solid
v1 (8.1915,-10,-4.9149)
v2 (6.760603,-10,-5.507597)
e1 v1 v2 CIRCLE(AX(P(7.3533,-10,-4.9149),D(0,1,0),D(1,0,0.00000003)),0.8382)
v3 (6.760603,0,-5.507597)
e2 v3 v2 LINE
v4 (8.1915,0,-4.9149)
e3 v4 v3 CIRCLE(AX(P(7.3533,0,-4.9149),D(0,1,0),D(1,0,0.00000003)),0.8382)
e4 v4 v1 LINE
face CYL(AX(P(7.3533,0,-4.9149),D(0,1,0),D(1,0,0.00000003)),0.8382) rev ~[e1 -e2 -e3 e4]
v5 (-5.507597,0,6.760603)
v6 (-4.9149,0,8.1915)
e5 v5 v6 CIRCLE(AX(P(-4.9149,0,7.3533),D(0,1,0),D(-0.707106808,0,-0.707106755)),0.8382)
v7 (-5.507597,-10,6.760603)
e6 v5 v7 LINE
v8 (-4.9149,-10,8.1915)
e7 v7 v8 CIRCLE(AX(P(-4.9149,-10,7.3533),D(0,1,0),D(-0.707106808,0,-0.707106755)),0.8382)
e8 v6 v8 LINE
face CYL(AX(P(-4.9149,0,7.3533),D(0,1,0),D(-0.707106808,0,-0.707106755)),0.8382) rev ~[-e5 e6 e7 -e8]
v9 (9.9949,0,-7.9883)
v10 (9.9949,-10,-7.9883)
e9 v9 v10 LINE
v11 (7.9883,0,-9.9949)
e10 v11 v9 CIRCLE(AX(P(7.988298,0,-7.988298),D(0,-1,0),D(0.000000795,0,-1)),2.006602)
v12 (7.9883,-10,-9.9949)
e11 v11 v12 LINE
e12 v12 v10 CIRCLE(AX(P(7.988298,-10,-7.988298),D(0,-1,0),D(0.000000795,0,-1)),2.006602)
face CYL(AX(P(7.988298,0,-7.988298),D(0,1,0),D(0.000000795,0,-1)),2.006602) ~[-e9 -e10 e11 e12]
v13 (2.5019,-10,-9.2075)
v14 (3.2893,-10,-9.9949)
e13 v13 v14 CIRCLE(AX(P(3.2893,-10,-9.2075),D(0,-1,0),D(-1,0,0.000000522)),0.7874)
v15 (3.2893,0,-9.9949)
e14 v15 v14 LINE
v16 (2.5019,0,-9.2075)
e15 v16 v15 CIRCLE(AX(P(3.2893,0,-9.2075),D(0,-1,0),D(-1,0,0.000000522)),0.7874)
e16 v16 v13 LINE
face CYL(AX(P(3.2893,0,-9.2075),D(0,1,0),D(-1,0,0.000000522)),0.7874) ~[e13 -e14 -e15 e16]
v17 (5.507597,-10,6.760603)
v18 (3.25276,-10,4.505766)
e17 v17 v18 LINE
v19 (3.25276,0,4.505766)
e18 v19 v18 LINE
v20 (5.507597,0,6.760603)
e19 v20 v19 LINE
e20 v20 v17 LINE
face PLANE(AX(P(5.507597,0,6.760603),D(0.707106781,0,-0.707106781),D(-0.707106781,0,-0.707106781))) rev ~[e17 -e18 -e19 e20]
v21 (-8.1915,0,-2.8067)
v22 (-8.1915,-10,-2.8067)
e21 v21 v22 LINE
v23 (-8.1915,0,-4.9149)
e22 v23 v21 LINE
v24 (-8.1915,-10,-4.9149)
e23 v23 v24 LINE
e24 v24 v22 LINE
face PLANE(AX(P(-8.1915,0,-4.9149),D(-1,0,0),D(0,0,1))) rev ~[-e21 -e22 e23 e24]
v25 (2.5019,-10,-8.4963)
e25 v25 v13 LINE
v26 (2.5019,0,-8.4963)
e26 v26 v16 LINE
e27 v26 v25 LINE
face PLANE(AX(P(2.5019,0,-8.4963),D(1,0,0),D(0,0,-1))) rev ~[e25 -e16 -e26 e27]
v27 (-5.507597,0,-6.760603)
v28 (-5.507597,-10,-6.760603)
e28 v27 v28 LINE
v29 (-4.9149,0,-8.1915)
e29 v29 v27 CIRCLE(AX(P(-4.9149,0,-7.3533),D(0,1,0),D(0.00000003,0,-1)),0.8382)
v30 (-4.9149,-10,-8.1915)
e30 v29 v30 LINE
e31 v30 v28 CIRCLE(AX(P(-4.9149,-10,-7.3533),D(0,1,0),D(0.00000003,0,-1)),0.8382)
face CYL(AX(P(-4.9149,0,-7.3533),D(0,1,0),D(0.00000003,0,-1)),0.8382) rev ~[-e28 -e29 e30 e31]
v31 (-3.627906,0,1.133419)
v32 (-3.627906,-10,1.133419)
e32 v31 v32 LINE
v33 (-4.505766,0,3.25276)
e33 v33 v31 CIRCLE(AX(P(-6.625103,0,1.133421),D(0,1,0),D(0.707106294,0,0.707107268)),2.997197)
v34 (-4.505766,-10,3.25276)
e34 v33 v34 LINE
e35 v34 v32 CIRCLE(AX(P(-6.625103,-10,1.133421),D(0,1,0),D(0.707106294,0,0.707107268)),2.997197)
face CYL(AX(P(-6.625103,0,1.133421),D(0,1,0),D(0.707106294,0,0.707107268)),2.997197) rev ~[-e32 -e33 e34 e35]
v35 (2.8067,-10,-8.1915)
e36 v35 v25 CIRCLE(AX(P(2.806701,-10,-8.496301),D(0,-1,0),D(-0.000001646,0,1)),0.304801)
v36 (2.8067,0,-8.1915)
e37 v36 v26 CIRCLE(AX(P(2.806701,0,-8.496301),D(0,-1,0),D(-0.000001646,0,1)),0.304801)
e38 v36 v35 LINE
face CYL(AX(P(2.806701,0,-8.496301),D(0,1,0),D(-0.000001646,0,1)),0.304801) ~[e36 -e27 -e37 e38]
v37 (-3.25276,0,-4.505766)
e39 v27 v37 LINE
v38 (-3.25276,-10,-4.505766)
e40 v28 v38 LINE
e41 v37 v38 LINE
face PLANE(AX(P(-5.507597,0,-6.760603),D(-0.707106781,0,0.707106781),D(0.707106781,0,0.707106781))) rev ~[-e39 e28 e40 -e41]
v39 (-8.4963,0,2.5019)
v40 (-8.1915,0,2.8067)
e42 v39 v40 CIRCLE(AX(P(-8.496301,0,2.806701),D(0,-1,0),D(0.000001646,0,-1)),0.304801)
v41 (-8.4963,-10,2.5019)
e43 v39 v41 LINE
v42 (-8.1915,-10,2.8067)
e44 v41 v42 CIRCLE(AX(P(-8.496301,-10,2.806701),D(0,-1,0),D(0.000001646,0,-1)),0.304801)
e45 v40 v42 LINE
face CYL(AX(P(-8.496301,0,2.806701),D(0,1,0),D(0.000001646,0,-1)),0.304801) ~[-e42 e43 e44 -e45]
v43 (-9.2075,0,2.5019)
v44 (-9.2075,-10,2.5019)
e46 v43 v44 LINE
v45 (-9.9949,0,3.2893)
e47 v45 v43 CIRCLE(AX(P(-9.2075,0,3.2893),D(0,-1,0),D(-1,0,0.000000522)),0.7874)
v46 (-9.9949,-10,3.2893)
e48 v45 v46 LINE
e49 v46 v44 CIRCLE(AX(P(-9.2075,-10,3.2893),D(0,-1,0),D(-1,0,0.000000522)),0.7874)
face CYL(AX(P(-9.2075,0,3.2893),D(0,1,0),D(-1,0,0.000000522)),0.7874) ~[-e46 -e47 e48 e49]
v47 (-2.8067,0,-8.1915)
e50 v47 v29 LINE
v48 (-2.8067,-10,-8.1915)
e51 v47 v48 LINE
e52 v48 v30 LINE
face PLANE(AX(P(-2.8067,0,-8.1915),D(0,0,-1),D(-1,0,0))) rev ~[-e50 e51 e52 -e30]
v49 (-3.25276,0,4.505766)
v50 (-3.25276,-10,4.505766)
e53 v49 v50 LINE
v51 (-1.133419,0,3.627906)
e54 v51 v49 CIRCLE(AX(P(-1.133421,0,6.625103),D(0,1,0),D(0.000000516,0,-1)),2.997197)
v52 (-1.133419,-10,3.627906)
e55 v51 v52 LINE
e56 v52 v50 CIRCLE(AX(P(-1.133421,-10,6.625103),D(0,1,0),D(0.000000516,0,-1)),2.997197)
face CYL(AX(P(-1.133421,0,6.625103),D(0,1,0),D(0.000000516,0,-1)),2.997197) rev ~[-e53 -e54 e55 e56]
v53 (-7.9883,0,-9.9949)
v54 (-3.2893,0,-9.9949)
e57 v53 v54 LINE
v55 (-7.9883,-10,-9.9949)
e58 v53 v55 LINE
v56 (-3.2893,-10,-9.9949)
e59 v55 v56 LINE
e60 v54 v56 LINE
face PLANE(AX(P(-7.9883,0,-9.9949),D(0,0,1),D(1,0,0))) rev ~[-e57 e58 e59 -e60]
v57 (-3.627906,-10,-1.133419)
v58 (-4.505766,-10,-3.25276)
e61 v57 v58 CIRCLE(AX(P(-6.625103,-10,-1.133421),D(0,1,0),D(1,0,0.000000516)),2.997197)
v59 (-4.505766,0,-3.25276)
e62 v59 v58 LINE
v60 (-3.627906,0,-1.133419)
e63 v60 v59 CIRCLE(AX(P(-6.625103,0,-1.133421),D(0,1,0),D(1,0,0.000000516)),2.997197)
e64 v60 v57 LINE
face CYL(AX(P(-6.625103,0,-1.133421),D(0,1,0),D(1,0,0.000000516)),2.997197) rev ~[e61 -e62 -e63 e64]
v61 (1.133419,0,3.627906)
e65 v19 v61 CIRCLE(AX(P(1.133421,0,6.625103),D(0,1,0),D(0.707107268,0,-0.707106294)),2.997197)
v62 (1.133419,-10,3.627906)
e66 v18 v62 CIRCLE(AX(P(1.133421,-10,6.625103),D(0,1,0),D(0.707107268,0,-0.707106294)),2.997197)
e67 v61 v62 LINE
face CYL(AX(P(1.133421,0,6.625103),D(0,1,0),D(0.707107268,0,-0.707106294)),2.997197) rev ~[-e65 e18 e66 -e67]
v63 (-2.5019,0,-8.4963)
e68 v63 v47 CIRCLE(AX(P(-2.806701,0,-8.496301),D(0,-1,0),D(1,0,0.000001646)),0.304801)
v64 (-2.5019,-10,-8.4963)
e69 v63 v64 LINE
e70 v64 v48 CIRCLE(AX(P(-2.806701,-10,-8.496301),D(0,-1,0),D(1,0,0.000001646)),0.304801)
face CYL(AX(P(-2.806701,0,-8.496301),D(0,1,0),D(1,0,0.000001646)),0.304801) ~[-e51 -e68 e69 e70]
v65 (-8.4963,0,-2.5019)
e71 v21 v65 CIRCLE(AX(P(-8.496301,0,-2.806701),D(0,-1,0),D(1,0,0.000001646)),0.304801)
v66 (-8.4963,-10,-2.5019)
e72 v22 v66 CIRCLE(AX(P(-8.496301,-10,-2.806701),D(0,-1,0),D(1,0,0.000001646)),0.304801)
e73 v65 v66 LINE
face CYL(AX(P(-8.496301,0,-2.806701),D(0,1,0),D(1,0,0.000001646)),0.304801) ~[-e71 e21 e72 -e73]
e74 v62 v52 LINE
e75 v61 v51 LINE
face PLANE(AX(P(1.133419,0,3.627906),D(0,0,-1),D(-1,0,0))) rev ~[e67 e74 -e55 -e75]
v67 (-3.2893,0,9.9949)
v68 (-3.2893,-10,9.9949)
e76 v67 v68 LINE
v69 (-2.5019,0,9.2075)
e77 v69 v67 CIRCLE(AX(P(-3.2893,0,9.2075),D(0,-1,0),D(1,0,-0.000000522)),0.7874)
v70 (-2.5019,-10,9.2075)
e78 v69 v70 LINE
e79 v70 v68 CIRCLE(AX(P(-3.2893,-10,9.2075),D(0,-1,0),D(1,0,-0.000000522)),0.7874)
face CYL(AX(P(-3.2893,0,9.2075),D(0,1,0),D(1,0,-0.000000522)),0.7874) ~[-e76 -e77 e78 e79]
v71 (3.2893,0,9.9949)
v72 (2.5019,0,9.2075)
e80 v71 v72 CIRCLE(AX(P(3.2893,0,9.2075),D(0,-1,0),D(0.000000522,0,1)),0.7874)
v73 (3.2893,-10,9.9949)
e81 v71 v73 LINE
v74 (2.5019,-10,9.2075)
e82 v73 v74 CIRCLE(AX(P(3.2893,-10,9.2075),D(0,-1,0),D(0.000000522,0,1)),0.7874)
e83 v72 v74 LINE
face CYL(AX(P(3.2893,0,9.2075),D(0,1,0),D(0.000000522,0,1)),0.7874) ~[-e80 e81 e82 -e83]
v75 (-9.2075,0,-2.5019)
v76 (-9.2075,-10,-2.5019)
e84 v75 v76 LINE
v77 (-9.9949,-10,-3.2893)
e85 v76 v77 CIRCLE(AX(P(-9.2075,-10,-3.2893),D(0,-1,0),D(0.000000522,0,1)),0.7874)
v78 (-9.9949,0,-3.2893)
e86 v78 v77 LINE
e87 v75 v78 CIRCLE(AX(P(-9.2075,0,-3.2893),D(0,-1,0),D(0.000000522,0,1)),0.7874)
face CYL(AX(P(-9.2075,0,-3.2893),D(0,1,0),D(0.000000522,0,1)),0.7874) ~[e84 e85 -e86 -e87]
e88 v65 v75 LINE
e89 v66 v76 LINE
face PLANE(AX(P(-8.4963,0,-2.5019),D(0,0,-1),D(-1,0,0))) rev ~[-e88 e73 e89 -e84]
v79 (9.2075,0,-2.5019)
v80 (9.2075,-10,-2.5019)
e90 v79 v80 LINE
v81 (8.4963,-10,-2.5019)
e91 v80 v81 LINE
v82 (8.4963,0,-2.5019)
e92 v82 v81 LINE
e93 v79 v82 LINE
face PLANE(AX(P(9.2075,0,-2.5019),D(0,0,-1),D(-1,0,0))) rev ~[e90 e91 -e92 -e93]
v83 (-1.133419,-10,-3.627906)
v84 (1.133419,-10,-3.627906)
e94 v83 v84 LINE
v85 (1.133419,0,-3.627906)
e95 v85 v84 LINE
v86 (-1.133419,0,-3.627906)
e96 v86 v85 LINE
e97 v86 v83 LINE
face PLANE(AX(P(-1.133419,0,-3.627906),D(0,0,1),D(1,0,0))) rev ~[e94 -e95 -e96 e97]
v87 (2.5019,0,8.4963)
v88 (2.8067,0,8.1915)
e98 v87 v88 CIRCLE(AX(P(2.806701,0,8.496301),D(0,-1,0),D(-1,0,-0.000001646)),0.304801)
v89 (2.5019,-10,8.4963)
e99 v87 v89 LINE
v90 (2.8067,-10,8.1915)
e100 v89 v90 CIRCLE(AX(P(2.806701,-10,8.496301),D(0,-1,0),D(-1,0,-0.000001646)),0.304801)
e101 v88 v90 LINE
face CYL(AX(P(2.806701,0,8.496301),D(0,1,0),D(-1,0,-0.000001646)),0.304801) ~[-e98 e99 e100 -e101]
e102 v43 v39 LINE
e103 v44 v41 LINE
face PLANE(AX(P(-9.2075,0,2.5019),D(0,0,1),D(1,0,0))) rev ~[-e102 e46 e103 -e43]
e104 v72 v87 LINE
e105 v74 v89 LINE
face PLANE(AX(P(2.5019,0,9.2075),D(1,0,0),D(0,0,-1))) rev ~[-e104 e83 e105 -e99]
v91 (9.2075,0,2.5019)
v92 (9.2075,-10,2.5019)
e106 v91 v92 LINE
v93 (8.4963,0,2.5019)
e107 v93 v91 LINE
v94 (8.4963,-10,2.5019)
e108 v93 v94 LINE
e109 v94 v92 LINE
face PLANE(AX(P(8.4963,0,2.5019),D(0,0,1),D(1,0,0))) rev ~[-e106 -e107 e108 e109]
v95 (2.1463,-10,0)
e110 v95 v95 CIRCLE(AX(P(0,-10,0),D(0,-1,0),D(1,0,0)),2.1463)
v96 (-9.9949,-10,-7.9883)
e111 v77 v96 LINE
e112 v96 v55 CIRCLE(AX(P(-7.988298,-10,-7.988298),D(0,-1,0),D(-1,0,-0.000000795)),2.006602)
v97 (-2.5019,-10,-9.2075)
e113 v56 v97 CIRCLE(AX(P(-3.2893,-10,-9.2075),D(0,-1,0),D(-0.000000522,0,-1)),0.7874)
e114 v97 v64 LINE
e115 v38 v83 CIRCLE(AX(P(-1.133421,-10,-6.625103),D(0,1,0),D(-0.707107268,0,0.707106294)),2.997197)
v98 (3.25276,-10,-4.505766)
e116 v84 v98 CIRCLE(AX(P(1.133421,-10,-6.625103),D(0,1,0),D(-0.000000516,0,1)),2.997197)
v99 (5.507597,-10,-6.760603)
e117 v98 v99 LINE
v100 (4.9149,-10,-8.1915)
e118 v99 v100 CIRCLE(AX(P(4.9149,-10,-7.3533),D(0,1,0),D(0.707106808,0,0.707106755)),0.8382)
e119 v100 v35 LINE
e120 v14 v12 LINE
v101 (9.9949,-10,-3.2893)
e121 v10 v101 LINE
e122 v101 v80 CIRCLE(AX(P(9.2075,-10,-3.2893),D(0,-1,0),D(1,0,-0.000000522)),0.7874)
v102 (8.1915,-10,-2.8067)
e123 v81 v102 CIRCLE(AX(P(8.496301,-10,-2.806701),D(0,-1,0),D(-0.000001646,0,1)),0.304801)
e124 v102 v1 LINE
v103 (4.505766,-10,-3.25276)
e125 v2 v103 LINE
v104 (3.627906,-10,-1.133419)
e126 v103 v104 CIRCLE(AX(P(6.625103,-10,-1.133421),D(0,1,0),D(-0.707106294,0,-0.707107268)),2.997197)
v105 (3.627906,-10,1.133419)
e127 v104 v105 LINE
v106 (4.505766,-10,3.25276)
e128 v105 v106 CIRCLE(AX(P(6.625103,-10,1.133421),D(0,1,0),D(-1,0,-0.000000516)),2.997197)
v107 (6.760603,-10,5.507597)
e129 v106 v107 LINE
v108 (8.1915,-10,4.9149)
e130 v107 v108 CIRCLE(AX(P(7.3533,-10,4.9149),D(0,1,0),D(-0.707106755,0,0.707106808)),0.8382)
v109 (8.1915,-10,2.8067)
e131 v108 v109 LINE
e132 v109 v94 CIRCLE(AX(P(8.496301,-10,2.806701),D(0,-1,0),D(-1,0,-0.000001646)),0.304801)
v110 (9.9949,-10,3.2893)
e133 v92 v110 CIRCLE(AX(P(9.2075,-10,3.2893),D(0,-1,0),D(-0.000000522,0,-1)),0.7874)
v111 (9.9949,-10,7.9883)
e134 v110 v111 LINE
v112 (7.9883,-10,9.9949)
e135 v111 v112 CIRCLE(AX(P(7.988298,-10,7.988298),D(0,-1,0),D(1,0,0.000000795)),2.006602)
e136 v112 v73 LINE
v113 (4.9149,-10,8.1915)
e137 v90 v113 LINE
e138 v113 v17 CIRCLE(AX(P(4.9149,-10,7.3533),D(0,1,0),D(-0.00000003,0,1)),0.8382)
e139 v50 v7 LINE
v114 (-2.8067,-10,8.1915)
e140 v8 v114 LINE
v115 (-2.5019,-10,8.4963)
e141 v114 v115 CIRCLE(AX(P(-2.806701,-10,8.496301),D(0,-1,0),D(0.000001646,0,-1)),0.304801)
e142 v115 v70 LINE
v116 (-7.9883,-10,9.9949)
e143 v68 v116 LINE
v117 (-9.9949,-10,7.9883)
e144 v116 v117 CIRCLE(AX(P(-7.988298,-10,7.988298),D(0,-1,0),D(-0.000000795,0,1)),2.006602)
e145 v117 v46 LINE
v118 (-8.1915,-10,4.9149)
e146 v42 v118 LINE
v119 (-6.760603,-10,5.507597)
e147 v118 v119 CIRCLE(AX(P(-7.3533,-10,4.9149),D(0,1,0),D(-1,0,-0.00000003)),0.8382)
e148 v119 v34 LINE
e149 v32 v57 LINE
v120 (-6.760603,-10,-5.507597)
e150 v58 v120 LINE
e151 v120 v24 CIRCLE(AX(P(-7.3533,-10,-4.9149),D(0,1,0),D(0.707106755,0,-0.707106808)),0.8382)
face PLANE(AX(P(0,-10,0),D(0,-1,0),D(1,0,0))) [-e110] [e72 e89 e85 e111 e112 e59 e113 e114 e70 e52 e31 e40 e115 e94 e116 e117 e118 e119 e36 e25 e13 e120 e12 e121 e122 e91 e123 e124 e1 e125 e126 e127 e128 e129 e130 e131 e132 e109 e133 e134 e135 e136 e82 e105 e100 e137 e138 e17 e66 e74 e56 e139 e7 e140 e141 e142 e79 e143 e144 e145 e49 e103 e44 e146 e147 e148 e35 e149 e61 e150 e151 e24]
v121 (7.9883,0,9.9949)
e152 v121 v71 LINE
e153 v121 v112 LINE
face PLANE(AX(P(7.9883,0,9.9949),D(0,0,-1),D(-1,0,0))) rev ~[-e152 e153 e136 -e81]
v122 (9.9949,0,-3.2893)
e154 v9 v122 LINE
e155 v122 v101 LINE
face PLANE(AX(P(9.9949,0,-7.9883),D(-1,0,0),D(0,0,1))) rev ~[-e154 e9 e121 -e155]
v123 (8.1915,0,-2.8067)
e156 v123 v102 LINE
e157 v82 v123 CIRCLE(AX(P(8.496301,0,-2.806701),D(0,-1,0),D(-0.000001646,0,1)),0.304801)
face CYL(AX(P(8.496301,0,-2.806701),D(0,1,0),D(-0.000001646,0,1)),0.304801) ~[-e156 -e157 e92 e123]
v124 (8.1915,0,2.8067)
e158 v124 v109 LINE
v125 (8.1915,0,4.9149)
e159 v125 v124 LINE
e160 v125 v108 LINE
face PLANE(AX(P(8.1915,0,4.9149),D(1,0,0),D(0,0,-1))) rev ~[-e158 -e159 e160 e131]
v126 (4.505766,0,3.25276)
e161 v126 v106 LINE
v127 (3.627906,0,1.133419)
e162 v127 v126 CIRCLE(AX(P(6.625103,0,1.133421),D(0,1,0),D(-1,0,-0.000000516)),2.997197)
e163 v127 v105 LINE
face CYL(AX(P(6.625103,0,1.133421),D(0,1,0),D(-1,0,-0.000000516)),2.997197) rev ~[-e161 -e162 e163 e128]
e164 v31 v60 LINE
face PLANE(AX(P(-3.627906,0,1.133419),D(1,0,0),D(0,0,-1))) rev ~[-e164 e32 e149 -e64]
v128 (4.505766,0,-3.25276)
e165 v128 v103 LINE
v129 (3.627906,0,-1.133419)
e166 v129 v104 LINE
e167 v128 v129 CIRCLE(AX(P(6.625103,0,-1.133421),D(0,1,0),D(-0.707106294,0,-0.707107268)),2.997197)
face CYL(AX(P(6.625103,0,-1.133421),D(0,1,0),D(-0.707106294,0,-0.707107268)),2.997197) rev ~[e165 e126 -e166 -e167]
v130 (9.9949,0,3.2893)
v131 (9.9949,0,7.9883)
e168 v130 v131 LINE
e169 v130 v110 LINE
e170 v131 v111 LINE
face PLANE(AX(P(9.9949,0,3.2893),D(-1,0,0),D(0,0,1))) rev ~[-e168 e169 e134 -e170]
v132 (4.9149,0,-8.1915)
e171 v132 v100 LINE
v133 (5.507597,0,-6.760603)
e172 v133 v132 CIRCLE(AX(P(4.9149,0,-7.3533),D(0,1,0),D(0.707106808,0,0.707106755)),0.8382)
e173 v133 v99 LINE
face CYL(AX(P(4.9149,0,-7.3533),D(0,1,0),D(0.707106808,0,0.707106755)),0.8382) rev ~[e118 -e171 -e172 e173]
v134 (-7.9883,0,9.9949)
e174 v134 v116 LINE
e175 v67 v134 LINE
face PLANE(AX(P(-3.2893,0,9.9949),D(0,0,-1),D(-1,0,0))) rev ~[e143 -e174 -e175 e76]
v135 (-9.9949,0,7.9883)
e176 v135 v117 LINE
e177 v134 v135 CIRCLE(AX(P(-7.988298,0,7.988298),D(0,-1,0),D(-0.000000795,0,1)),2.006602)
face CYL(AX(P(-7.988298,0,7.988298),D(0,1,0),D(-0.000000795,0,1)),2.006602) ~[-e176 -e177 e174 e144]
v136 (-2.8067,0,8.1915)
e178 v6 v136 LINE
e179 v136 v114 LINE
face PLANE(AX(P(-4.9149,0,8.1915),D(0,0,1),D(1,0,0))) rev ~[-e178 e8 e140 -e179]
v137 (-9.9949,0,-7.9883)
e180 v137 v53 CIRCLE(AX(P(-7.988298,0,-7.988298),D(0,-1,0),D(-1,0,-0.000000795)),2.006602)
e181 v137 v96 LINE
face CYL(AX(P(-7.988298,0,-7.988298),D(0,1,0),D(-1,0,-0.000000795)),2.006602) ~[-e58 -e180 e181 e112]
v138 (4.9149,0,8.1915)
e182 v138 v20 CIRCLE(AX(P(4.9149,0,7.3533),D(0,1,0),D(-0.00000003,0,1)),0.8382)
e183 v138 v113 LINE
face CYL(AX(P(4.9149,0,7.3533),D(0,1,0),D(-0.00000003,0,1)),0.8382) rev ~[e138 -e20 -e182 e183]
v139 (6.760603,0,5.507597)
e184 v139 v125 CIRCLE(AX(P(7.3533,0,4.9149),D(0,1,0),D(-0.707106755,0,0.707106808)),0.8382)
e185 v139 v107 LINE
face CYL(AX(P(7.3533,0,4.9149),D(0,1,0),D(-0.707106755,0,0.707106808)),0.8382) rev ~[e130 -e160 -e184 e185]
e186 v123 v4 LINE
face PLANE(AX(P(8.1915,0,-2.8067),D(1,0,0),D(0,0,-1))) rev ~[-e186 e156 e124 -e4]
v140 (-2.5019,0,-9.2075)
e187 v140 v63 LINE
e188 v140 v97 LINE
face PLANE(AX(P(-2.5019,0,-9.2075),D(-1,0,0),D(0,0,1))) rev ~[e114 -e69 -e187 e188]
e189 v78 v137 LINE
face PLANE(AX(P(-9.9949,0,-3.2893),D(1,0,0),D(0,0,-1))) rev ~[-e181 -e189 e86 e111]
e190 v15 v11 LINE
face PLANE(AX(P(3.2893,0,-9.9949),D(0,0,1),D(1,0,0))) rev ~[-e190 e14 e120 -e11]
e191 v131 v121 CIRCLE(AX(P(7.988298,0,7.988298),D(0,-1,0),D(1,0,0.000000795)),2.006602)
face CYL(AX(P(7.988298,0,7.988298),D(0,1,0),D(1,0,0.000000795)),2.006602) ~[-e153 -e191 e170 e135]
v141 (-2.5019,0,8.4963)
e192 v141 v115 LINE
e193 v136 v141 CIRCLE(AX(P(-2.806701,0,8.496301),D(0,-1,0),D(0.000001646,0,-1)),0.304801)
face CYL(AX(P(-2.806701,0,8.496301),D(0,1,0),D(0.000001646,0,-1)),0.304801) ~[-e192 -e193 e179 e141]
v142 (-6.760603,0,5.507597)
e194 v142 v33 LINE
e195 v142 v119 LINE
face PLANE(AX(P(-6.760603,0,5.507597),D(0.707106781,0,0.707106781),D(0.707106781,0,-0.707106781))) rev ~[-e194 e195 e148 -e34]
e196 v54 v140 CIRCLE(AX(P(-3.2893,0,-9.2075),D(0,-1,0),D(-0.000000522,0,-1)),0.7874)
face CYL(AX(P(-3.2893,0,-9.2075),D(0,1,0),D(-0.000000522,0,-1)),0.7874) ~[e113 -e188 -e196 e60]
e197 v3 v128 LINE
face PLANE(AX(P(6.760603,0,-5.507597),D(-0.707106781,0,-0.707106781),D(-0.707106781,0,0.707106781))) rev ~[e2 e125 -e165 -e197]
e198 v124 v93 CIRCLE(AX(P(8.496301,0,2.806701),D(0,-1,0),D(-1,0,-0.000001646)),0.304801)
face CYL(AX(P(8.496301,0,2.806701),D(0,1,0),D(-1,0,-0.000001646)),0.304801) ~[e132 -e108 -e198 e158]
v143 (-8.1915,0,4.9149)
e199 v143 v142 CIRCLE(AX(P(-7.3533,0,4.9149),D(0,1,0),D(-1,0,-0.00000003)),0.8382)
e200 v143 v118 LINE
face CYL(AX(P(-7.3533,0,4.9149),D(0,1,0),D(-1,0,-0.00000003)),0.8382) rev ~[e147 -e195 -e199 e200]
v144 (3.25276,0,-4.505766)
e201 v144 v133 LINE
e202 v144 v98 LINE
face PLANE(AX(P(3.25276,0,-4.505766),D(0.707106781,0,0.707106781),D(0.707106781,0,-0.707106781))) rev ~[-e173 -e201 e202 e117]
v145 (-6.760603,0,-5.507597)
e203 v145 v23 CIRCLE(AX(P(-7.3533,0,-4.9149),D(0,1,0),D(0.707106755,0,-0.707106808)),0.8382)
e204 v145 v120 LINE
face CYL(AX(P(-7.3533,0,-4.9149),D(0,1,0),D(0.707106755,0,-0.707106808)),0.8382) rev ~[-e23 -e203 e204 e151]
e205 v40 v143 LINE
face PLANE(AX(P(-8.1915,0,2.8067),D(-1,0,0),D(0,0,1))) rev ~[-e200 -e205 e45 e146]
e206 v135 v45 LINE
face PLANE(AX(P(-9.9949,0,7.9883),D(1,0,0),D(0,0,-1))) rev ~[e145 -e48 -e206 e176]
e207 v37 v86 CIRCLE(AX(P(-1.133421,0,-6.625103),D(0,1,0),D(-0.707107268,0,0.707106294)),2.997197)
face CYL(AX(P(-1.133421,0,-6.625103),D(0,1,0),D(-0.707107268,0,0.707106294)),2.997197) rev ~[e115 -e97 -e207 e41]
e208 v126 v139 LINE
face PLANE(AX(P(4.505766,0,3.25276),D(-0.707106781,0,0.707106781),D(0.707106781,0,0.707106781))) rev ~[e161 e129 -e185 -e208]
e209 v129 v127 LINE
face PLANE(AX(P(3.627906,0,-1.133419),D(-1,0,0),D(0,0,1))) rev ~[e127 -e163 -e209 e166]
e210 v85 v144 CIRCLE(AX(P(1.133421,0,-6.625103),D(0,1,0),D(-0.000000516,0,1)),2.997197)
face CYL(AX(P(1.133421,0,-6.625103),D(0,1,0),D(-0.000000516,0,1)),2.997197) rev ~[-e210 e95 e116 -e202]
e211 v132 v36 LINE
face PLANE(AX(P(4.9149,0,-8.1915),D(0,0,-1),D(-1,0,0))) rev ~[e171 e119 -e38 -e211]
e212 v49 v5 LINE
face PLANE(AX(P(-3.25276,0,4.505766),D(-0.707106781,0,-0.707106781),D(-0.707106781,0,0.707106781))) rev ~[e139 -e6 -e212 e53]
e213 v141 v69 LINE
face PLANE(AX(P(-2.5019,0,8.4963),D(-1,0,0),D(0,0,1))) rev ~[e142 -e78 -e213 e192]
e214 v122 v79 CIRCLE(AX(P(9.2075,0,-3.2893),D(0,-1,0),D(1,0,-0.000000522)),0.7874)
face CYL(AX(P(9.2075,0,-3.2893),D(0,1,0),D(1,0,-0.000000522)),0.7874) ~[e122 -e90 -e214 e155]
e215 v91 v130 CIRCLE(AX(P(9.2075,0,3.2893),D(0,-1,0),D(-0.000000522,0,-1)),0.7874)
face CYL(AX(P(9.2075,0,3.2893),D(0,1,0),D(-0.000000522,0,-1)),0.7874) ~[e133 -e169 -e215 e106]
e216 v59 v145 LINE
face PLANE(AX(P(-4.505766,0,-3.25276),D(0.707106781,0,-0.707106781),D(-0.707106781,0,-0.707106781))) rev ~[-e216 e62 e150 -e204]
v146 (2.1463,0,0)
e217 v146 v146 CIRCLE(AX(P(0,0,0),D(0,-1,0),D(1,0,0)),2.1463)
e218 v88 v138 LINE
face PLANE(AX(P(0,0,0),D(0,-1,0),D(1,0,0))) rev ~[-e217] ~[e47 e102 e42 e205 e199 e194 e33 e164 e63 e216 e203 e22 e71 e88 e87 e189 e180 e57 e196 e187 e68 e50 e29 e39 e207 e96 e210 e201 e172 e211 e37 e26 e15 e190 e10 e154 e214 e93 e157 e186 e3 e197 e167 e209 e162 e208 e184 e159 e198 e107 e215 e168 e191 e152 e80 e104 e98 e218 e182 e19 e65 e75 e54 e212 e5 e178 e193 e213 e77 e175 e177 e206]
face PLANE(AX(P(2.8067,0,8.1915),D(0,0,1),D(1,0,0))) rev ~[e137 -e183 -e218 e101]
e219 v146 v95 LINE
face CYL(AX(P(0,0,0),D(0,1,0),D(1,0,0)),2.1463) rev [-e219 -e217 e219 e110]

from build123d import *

# Parameters (mm, degrees)
F0_R     = 2.1463
F1_DEPTH = 10


with BuildPart() as f1:
    # F0 (on Front) → F1 (new body)
    with BuildSketch(Plane.XZ):
        with BuildLine():
            Line((-3.2893, 9.9949), (-7.9883, 9.9949))
            ThreePointArc((-7.9883, 9.9949), (-9.40718, 9.40718), (-9.9949, 7.9883))
            Line((-9.9949, 7.9883), (-9.9949, 3.2893))
            ThreePointArc((-9.9949, 3.2893), (-9.764276, 2.732524), (-9.2075, 2.5019))
            Line((-9.2075, 2.5019), (-8.4963, 2.5019))
            ThreePointArc((-8.4963, 2.5019), (-8.280774, 2.591174), (-8.1915, 2.8067))
            Line((-8.1915, 2.8067), (-8.1915, 4.9149))
            ThreePointArc((-8.1915, 4.9149), (-7.674065, 5.689296), (-6.760603, 5.507597))
            Line((-6.760603, 5.507597), (-4.505766, 3.25276))
            ThreePointArc((-4.505766, 3.25276), (-3.856054, 2.280398), (-3.627906, 1.133419))
            Line((-3.627906, 1.133419), (-3.627906, -1.133419))
            ThreePointArc((-3.627906, -1.133419), (-3.856054, -2.280398), (-4.505766, -3.25276))
            Line((-4.505766, -3.25276), (-6.760603, -5.507597))
            ThreePointArc((-6.760603, -5.507597), (-7.674065, -5.689296), (-8.1915, -4.9149))
            Line((-8.1915, -4.9149), (-8.1915, -2.8067))
            ThreePointArc((-8.1915, -2.8067), (-8.280774, -2.591174), (-8.4963, -2.5019))
            Line((-8.4963, -2.5019), (-9.2075, -2.5019))
            ThreePointArc((-9.2075, -2.5019), (-9.764276, -2.732524), (-9.9949, -3.2893))
            Line((-9.9949, -3.2893), (-9.9949, -7.9883))
            ThreePointArc((-9.9949, -7.9883), (-9.40718, -9.40718), (-7.9883, -9.9949))
            Line((-7.9883, -9.9949), (-3.2893, -9.9949))
            ThreePointArc((-3.2893, -9.9949), (-2.732524, -9.764276), (-2.5019, -9.2075))
            Line((-2.5019, -9.2075), (-2.5019, -8.4963))
            ThreePointArc((-2.5019, -8.4963), (-2.591174, -8.280774), (-2.8067, -8.1915))
            Line((-2.8067, -8.1915), (-4.9149, -8.1915))
            ThreePointArc((-4.9149, -8.1915), (-5.689296, -7.674065), (-5.507597, -6.760603))
            Line((-5.507597, -6.760603), (-3.25276, -4.505766))
            ThreePointArc((-3.25276, -4.505766), (-2.280398, -3.856054), (-1.133419, -3.627906))
            Line((-1.133419, -3.627906), (1.133419, -3.627906))
            ThreePointArc((1.133419, -3.627906), (2.280398, -3.856054), (3.25276, -4.505766))
            Line((3.25276, -4.505766), (5.507597, -6.760603))
            ThreePointArc((5.507597, -6.760603), (5.689296, -7.674065), (4.9149, -8.1915))
            Line((4.9149, -8.1915), (2.8067, -8.1915))
            ThreePointArc((2.8067, -8.1915), (2.591174, -8.280774), (2.5019, -8.4963))
            Line((2.5019, -8.4963), (2.5019, -9.2075))
            ThreePointArc((2.5019, -9.2075), (2.732524, -9.764276), (3.2893, -9.9949))
            Line((3.2893, -9.9949), (7.9883, -9.9949))
            ThreePointArc((7.9883, -9.9949), (9.40718, -9.40718), (9.9949, -7.9883))
            Line((9.9949, -7.9883), (9.9949, -3.2893))
            ThreePointArc((9.9949, -3.2893), (9.764276, -2.732524), (9.2075, -2.5019))
            Line((9.2075, -2.5019), (8.4963, -2.5019))
            ThreePointArc((8.4963, -2.5019), (8.280774, -2.591174), (8.1915, -2.8067))
            Line((8.1915, -2.8067), (8.1915, -4.9149))
            ThreePointArc((8.1915, -4.9149), (7.674065, -5.689296), (6.760603, -5.507597))
            Line((6.760603, -5.507597), (4.505766, -3.25276))
            ThreePointArc((4.505766, -3.25276), (3.856054, -2.280398), (3.627906, -1.133419))
            Line((3.627906, -1.133419), (3.627906, 1.133419))
            ThreePointArc((3.627906, 1.133419), (3.856054, 2.280398), (4.505766, 3.25276))
            Line((4.505766, 3.25276), (6.760603, 5.507597))
            ThreePointArc((6.760603, 5.507597), (7.674065, 5.689296), (8.1915, 4.9149))
            Line((8.1915, 4.9149), (8.1915, 2.8067))
            ThreePointArc((8.1915, 2.8067), (8.280774, 2.591174), (8.4963, 2.5019))
            Line((8.4963, 2.5019), (9.2075, 2.5019))
            ThreePointArc((9.2075, 2.5019), (9.764276, 2.732524), (9.9949, 3.2893))
            Line((9.9949, 3.2893), (9.9949, 7.9883))
            ThreePointArc((9.9949, 7.9883), (9.40718, 9.40718), (7.9883, 9.9949))
            Line((7.9883, 9.9949), (3.2893, 9.9949))
            ThreePointArc((3.2893, 9.9949), (2.732524, 9.764276), (2.5019, 9.2075))
            Line((2.5019, 9.2075), (2.5019, 8.4963))
            ThreePointArc((2.5019, 8.4963), (2.591174, 8.280774), (2.8067, 8.1915))
            Line((2.8067, 8.1915), (4.9149, 8.1915))
            ThreePointArc((4.9149, 8.1915), (5.689296, 7.674065), (5.507597, 6.760603))
            Line((5.507597, 6.760603), (3.25276, 4.505766))
            ThreePointArc((3.25276, 4.505766), (2.280398, 3.856054), (1.133419, 3.627906))
            Line((1.133419, 3.627906), (-1.133419, 3.627906))
            ThreePointArc((-1.133419, 3.627906), (-2.280398, 3.856054), (-3.25276, 4.505766))
            Line((-3.25276, 4.505766), (-5.507597, 6.760603))
            ThreePointArc((-5.507597, 6.760603), (-5.689296, 7.674065), (-4.9149, 8.1915))
            Line((-4.9149, 8.1915), (-2.8067, 8.1915))
            ThreePointArc((-2.8067, 8.1915), (-2.591174, 8.280774), (-2.5019, 8.4963))
            Line((-2.5019, 8.4963), (-2.5019, 9.2075))
            ThreePointArc((-2.5019, 9.2075), (-2.732524, 9.764276), (-3.2893, 9.9949))
        make_face()
        Circle(F0_R, mode=Mode.SUBTRACT)
    extrude(amount=F1_DEPTH)


solid = f1.part
